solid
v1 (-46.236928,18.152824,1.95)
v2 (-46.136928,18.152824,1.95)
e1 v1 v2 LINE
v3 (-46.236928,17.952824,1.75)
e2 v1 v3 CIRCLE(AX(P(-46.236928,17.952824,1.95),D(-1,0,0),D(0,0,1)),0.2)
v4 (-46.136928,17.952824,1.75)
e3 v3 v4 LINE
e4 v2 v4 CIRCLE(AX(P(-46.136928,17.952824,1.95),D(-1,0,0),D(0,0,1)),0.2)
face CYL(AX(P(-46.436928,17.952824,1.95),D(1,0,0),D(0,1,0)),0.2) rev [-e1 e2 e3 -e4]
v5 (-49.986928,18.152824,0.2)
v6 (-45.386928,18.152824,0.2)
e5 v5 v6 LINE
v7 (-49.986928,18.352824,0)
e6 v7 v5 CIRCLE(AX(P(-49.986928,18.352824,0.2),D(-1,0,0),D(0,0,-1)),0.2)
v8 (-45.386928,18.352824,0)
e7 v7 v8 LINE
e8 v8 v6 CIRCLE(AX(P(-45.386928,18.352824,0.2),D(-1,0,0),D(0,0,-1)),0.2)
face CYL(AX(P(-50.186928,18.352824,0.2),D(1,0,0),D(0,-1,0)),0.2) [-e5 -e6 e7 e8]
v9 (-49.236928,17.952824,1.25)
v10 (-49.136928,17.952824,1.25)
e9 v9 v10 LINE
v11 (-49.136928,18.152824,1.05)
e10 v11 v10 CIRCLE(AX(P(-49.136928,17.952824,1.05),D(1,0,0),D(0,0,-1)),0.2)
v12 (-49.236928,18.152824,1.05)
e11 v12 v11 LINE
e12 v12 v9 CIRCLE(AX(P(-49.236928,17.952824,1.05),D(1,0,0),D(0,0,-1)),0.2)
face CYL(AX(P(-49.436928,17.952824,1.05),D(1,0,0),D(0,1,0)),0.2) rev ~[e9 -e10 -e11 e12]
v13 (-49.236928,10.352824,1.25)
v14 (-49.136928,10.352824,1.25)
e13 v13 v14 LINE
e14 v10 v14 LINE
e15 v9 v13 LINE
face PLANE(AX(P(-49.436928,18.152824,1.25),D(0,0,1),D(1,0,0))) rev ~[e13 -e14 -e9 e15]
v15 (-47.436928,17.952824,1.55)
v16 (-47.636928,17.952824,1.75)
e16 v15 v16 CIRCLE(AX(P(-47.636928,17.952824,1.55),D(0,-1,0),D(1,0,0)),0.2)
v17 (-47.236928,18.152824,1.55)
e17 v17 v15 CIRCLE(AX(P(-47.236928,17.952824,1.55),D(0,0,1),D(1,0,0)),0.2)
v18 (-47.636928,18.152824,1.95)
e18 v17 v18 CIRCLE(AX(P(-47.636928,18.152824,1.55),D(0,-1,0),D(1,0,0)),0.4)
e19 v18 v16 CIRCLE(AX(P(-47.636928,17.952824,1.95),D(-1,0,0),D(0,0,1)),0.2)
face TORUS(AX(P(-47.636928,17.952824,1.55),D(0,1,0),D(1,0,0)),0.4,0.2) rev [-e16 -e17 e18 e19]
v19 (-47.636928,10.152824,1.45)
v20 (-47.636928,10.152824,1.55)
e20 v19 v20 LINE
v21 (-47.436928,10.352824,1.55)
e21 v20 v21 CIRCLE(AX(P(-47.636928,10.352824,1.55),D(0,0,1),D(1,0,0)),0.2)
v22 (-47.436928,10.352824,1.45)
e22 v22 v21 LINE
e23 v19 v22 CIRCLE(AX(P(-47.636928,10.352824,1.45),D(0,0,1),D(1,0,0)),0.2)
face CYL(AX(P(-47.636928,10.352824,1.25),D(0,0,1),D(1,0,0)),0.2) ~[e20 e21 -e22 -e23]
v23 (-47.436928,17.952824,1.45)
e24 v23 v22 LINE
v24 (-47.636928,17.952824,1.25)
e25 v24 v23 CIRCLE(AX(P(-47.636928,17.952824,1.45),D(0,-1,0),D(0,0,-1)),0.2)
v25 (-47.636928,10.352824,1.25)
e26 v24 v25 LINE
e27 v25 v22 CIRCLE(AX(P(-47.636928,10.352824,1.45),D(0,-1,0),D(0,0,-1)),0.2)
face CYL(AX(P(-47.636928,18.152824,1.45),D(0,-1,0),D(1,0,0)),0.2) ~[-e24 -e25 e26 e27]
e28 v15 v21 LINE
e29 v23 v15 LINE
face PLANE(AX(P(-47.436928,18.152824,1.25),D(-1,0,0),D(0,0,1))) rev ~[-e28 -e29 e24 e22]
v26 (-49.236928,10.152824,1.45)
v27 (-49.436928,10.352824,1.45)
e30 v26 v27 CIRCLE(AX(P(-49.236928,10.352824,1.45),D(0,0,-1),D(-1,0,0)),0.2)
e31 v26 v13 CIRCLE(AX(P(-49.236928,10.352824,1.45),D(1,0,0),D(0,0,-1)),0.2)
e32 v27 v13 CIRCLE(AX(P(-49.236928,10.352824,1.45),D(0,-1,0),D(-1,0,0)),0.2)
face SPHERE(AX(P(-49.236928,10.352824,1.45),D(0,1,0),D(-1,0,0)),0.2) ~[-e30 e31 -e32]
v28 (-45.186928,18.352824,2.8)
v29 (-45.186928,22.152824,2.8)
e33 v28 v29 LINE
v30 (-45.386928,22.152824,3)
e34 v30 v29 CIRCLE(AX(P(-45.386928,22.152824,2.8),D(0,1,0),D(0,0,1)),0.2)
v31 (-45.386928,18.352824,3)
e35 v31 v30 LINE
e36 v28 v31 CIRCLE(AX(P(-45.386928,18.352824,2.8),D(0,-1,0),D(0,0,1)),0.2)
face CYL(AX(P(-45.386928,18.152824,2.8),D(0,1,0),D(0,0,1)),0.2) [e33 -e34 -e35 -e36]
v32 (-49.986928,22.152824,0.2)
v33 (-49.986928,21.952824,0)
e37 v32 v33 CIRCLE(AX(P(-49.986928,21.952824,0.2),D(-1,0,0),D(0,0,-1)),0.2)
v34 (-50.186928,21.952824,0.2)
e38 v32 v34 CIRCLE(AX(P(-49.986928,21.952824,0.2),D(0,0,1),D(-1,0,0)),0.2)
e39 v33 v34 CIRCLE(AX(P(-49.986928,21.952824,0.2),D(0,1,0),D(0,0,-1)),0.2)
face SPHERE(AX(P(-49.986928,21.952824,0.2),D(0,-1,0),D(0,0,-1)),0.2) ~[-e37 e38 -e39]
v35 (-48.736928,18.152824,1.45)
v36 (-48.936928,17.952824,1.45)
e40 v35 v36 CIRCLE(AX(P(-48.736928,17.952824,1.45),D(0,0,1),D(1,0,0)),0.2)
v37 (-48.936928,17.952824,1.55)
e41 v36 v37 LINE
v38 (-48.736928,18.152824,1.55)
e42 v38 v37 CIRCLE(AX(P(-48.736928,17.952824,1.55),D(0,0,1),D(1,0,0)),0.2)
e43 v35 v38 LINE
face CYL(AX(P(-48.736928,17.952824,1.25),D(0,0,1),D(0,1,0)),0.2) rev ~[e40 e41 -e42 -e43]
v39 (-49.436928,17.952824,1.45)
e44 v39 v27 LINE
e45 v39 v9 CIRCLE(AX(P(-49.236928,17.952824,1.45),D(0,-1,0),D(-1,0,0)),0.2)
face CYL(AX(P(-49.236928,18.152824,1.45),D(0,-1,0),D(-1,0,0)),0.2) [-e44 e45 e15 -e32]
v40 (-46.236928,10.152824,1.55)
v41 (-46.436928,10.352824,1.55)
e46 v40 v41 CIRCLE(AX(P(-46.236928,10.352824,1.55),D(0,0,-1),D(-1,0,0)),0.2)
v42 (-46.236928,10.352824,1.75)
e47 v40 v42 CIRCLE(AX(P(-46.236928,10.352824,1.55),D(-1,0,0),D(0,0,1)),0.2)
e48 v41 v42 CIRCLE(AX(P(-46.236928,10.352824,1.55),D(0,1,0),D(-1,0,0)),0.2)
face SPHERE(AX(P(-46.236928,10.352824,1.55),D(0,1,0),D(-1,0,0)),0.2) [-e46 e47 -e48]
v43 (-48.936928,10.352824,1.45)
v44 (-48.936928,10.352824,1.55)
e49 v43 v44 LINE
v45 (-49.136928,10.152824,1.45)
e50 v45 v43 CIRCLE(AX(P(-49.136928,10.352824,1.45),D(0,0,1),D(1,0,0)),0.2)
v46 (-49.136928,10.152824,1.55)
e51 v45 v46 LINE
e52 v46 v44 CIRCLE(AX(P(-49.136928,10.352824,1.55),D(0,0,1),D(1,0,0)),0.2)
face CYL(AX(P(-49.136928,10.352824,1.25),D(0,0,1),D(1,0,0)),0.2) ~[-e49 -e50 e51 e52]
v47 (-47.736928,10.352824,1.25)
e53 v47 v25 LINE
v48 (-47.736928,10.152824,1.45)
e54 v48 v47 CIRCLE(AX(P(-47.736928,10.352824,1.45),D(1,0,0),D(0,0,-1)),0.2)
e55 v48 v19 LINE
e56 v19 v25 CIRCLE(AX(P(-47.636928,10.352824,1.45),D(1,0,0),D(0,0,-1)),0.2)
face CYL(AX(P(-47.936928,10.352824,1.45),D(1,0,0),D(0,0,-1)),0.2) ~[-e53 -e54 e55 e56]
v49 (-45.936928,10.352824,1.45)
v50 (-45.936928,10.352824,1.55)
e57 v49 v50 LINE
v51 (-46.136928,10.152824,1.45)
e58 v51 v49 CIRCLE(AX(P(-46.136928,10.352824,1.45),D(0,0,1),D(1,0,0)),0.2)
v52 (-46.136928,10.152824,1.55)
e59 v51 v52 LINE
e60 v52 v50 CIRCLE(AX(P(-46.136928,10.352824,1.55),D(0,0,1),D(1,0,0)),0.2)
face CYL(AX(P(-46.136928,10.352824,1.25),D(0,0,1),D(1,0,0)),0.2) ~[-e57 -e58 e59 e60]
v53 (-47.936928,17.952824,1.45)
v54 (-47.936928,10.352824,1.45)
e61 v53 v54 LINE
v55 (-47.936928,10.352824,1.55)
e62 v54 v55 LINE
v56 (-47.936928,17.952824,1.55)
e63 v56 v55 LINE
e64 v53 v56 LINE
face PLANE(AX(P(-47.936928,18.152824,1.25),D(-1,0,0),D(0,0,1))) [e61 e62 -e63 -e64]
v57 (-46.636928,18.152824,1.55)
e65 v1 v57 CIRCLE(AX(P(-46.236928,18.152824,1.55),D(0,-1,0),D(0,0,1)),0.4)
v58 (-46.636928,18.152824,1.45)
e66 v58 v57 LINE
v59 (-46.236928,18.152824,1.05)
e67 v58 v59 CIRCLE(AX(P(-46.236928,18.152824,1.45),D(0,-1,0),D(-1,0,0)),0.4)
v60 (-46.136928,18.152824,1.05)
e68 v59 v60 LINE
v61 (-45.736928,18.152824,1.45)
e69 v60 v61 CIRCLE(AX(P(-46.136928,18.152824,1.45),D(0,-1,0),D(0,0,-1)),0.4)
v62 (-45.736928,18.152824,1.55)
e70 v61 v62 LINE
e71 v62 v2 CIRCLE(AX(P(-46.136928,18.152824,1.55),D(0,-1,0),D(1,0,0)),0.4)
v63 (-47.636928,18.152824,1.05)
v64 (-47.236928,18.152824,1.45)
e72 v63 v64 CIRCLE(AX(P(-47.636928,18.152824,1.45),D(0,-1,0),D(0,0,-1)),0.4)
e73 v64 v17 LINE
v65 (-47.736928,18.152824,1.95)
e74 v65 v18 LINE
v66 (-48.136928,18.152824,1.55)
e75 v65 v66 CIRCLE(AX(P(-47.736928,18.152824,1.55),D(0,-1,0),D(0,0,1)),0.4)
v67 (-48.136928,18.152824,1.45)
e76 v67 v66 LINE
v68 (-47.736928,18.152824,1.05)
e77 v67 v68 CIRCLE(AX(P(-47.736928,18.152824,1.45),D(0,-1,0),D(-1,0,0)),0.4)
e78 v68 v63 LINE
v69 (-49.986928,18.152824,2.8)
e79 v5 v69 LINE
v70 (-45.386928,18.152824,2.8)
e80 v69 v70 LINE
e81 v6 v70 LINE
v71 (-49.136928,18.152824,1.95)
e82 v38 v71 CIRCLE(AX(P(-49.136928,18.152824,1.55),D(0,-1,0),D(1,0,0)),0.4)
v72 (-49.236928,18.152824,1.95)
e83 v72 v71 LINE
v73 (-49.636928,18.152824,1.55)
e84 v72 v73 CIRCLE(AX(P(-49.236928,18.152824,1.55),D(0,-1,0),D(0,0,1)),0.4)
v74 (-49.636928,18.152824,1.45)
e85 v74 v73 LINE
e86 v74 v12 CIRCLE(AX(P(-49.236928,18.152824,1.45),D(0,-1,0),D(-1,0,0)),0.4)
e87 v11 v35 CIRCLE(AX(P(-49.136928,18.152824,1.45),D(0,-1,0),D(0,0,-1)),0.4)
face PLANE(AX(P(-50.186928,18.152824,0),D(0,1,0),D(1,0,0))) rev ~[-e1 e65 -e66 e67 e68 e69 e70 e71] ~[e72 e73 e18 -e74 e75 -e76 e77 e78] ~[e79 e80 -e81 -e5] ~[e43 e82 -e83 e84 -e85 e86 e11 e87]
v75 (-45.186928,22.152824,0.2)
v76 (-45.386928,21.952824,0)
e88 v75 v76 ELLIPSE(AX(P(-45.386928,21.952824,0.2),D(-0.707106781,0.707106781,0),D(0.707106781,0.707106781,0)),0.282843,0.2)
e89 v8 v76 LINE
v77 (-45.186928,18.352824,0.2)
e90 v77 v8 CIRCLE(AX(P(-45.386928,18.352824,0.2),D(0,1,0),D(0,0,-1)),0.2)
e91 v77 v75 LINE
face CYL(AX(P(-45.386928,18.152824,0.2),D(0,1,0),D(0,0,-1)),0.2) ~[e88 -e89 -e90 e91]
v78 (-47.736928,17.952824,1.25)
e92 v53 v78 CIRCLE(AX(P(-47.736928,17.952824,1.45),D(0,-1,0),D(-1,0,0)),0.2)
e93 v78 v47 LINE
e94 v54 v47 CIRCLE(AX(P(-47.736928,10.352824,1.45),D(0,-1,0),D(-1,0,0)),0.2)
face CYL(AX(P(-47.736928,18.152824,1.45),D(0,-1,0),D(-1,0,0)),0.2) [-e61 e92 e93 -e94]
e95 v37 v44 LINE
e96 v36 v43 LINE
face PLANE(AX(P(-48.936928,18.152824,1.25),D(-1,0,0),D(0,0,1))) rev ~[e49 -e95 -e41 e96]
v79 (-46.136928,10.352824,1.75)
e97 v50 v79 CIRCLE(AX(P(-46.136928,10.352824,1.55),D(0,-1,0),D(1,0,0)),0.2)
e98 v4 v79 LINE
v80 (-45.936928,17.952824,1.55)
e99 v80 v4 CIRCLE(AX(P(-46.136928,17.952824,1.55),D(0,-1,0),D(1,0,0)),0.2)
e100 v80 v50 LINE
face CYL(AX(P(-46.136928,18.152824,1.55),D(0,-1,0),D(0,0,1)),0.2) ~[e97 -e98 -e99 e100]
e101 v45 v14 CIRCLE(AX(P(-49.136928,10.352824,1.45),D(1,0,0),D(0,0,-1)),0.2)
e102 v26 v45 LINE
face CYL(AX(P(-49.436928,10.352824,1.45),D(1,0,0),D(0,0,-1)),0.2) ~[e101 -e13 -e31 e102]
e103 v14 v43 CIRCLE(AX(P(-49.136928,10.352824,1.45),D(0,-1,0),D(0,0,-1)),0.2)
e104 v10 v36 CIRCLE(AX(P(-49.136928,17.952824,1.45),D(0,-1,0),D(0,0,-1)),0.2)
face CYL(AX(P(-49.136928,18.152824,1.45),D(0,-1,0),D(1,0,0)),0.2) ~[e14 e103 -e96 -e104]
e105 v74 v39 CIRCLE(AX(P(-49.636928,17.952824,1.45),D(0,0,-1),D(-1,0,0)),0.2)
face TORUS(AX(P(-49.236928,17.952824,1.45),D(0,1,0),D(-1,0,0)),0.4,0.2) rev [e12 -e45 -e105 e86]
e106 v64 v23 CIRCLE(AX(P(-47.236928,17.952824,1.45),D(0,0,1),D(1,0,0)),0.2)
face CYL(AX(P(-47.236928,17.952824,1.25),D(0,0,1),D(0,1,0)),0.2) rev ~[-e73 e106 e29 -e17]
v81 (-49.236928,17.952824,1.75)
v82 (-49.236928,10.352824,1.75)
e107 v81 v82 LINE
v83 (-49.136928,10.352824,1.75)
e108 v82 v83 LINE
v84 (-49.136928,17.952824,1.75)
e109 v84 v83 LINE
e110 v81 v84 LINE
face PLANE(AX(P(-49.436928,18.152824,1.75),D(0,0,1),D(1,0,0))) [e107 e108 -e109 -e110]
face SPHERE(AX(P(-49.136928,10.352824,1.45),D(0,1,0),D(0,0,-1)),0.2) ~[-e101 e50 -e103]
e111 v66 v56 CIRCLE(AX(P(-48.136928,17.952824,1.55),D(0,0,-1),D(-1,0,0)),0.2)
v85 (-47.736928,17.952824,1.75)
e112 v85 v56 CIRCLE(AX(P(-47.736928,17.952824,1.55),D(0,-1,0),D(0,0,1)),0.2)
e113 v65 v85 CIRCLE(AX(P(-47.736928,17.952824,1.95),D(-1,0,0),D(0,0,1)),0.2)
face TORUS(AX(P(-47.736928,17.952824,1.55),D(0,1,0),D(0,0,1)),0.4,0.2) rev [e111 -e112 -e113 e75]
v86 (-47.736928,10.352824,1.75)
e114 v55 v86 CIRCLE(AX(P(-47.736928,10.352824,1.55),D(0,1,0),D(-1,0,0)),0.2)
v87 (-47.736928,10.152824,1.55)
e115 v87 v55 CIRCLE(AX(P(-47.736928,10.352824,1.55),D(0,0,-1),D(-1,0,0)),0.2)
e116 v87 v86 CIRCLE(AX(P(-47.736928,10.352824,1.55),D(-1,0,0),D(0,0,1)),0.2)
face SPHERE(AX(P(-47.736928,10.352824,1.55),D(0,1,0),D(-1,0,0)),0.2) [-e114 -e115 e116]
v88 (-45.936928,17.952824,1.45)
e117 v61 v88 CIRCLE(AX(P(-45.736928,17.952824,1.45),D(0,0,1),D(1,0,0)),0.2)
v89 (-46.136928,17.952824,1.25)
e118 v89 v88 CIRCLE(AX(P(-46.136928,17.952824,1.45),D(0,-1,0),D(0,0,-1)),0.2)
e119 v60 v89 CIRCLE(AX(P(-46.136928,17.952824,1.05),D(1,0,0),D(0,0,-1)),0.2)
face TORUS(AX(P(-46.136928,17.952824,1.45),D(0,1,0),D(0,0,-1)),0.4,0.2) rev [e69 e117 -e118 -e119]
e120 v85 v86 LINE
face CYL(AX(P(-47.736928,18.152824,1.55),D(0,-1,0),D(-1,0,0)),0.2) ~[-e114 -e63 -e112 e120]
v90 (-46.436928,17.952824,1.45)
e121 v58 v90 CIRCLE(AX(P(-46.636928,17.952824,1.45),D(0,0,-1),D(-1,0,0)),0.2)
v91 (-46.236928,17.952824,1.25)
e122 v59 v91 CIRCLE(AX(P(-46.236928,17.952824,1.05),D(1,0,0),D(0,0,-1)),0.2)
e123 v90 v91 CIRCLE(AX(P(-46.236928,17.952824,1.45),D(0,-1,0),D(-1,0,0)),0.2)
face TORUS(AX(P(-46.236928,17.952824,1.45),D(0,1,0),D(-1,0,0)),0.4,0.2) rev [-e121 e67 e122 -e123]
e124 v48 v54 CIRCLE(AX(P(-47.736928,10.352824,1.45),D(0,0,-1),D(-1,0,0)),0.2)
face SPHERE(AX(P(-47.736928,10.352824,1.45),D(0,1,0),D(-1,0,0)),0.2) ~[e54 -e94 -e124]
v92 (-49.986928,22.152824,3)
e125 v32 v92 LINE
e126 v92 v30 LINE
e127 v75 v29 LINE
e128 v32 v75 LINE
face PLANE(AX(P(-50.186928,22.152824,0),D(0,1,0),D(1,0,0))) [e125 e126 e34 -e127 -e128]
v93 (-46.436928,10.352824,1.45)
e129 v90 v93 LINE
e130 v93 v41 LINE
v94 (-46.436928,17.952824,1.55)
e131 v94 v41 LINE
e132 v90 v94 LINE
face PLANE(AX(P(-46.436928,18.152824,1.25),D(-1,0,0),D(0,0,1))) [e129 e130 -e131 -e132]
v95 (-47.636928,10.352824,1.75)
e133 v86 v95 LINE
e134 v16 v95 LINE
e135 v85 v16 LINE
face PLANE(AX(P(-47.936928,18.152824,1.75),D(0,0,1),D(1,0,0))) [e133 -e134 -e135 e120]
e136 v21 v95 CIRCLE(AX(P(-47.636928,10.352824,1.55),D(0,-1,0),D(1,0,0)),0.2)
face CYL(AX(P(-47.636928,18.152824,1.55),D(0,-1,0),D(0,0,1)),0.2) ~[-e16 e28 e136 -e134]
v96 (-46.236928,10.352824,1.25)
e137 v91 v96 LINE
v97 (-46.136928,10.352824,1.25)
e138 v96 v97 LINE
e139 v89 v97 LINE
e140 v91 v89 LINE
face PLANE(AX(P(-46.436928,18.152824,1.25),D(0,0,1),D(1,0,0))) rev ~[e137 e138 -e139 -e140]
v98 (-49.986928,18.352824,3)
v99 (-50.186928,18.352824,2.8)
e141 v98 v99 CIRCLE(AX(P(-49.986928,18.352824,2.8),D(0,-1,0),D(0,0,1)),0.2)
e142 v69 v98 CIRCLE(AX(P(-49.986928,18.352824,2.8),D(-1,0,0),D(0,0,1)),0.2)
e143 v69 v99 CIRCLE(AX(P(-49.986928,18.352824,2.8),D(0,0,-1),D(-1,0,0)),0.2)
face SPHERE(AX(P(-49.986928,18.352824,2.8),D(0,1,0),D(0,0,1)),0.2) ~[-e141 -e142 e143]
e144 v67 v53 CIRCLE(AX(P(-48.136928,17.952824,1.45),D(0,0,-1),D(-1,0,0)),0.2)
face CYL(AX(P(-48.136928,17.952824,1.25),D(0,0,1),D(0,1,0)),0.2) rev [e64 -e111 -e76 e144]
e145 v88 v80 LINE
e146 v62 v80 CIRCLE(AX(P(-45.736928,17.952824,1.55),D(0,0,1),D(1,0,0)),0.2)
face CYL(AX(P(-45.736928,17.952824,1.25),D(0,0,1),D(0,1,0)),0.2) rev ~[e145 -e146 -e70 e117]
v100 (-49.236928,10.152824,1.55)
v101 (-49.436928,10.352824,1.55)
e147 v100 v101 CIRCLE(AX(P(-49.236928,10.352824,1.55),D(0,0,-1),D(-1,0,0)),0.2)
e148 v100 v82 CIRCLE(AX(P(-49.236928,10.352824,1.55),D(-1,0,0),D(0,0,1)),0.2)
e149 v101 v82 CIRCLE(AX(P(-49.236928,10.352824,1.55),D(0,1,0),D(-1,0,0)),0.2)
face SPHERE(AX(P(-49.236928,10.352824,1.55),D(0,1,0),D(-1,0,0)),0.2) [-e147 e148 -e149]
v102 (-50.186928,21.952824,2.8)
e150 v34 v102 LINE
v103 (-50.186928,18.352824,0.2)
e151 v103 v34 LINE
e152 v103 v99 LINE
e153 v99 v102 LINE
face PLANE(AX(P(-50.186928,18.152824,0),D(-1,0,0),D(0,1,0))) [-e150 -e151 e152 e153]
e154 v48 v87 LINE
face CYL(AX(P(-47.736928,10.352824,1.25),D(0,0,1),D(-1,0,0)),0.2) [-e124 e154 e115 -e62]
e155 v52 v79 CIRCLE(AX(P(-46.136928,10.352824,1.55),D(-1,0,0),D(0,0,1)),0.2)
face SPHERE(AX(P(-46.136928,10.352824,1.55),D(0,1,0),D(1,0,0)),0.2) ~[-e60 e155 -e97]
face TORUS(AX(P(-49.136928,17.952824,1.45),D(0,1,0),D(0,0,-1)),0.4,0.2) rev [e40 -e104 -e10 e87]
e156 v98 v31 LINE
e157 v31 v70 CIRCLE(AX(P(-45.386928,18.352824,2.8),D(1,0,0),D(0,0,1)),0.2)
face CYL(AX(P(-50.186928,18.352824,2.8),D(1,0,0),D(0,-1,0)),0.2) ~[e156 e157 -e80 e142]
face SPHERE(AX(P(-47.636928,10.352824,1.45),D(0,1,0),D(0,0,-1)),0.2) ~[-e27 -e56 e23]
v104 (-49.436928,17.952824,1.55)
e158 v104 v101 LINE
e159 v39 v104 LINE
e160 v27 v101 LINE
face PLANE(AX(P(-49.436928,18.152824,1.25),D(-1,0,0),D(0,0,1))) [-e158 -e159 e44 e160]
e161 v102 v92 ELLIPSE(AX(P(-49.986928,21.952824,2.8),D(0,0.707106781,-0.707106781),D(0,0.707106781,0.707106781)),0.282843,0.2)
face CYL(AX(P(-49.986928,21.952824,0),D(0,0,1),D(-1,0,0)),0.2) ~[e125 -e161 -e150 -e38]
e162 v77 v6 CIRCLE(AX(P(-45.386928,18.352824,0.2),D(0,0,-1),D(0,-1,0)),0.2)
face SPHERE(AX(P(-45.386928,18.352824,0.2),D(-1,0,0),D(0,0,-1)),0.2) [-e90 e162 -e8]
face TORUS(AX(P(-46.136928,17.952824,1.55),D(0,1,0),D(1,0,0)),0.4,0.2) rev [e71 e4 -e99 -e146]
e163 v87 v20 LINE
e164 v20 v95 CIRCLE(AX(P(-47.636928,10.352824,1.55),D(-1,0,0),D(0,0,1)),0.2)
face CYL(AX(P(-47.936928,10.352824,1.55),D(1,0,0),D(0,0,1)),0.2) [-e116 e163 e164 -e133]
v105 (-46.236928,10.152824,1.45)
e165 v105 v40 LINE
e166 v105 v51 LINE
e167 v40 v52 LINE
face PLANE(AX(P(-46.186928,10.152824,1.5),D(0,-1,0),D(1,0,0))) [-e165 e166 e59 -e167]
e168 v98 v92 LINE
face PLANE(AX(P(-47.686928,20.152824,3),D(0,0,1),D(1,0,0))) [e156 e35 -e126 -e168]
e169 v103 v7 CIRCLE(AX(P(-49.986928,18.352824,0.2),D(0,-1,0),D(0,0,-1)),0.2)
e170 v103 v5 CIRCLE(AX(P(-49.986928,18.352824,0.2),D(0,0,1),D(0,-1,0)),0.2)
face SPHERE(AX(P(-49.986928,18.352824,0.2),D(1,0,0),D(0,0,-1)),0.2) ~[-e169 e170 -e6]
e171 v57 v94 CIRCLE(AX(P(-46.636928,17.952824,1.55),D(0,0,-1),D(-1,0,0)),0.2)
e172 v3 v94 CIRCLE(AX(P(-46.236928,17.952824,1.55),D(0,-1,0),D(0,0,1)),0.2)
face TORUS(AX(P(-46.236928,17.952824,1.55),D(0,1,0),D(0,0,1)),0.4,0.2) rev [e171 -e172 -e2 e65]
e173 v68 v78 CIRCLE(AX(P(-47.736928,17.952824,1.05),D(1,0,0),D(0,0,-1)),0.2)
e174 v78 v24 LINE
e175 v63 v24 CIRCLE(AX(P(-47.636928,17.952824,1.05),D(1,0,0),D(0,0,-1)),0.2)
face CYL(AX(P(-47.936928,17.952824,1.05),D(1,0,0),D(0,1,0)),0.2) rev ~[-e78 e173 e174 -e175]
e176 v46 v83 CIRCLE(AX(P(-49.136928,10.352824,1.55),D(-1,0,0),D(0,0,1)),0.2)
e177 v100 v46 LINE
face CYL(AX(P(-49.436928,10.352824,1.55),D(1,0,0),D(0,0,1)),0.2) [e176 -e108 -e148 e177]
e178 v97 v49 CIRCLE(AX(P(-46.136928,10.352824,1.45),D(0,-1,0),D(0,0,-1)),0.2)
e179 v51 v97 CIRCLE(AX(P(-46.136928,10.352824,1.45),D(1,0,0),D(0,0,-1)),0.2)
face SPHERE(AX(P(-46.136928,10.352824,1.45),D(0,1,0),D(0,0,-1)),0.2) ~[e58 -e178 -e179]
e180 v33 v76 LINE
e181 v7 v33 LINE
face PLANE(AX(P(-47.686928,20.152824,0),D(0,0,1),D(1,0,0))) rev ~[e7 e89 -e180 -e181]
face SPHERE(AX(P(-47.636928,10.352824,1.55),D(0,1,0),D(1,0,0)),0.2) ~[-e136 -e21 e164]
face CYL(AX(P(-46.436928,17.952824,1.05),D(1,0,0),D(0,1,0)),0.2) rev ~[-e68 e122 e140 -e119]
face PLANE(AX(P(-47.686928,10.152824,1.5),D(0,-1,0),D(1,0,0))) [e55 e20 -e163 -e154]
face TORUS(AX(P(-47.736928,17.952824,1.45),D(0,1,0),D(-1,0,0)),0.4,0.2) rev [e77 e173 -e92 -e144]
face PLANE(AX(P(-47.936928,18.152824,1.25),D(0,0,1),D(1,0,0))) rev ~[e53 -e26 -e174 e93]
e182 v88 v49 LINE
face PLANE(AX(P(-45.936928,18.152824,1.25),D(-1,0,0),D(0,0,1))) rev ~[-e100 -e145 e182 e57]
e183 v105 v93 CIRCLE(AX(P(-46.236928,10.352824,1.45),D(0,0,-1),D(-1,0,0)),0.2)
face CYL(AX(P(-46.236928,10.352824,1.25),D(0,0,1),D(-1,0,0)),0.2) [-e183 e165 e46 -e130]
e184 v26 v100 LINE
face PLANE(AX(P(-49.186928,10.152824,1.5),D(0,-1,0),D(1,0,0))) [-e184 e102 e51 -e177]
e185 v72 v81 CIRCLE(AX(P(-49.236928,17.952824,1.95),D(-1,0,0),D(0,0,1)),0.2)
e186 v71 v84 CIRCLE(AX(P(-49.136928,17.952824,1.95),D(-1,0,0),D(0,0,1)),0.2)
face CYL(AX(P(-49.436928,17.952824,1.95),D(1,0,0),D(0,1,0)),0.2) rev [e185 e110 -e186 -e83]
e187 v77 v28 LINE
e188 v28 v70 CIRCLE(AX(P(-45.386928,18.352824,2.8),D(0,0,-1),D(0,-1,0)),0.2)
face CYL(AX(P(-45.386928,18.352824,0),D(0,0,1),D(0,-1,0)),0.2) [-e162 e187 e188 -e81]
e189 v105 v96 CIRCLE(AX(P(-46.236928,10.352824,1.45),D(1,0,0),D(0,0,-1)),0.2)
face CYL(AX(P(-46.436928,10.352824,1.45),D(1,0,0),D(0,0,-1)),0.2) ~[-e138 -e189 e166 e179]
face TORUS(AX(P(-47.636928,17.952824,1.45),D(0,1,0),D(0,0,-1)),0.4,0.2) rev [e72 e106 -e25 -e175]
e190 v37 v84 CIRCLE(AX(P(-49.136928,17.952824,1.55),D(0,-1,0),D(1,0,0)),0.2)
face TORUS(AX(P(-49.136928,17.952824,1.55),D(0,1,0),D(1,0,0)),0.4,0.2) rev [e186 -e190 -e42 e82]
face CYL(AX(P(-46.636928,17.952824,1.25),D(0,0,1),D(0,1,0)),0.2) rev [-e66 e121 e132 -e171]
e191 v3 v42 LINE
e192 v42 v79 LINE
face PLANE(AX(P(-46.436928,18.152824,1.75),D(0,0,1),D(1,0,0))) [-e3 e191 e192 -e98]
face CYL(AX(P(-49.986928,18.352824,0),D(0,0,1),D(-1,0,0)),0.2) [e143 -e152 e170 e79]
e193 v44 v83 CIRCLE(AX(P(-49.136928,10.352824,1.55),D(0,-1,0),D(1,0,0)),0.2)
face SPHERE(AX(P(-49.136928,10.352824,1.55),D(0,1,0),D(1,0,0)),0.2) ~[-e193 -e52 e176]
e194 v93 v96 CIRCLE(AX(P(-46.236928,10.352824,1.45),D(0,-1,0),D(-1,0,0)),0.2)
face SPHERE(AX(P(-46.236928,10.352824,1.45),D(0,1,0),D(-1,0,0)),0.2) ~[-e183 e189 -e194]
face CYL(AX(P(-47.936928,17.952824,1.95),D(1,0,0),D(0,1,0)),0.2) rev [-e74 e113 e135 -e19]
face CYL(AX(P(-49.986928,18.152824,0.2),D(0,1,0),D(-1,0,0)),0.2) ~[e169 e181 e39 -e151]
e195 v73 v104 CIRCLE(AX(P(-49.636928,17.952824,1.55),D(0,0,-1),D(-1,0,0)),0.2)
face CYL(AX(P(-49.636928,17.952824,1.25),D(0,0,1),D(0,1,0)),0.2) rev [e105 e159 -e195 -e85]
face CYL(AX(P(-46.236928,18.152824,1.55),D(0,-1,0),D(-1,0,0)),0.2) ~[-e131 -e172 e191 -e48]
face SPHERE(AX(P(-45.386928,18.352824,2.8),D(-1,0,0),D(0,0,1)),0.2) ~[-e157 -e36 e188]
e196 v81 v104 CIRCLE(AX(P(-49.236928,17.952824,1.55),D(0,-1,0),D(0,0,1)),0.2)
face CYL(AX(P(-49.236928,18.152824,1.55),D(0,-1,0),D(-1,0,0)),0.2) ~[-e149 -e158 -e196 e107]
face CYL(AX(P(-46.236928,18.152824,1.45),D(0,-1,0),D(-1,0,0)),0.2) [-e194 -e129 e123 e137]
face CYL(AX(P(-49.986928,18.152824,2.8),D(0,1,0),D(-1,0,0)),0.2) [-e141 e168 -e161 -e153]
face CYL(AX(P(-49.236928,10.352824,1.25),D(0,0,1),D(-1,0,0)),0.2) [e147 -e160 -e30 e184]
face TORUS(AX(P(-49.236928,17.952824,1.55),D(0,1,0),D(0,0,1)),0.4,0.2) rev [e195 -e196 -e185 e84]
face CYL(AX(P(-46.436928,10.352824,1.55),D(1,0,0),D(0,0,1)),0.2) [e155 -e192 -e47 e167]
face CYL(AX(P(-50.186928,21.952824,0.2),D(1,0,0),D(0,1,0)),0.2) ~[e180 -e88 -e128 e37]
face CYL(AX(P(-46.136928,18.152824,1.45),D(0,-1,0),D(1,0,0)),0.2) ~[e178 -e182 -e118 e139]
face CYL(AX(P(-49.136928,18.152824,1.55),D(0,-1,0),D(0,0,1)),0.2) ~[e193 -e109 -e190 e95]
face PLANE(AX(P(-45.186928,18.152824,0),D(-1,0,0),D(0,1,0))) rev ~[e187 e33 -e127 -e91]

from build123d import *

# Parameters (mm, degrees)
SKETCH1_W           = 5
SKETCH1_H           = 4
BOSS_EXTRUDE1_DEPTH = 3
SKETCH2_W           = 0.5
SKETCH2_H           = 0.5
BOSS_EXTRUDE2_DEPTH = 8
FILLET2_R           = 0.2


with BuildPart() as part:
    # Sketch1 → Boss-Extrude1 (new body)
    with BuildSketch(Plane.XY):
        with Locations((-47.686928434, 20.152823879)):
            Rectangle(SKETCH1_W, SKETCH1_H)
    extrude(amount=BOSS_EXTRUDE1_DEPTH)

    # Sketch2 → Boss-Extrude2 (add)
    with BuildSketch(Plane.XZ.offset(-18.152823879)):
        with Locations((-49.186928434, 1.5)):
            Rectangle(SKETCH2_W, SKETCH2_H)
        with Locations((-47.686928434, 1.5)):
            Rectangle(SKETCH2_W, SKETCH2_H)
        with Locations((-46.186928434, 1.5)):
            Rectangle(SKETCH2_W, SKETCH2_H)
    extrude(amount=BOSS_EXTRUDE2_DEPTH)

    # Fillet2
    fillet2_edges = [part.edges().sort_by_distance(p)[0] for p in [
        (-50.186928434, 20.152823879, 3),
        (-47.686928434, 18.152823879, 3),
        (-49.436928434, 18.152823879, 1.5),
        (-49.436928434, 14.152823879, 1.75),
        (-49.186928434, 18.152823879, 1.25),
        (-49.436928434, 14.152823879, 1.25),
        (-48.936928434, 18.152823879, 1.5),
        (-48.936928434, 14.152823879, 1.25),
        (-49.186928434, 18.152823879, 1.75),
        (-48.936928434, 14.152823879, 1.75),
        (-49.436928434, 10.152823879, 1.5),
        (-49.186928434, 10.152823879, 1.25),
        (-48.936928434, 10.152823879, 1.5),
        (-49.186928434, 10.152823879, 1.75),
        (-47.936928434, 18.152823879, 1.5),
        (-47.936928434, 14.152823879, 1.75),
        (-47.686928434, 18.152823879, 1.25),
        (-47.936928434, 14.152823879, 1.25),
        (-47.436928434, 18.152823879, 1.5),
        (-47.436928434, 14.152823879, 1.25),
        (-47.686928434, 18.152823879, 1.75),
        (-47.436928434, 14.152823879, 1.75),
        (-47.936928434, 10.152823879, 1.5),
        (-47.686928434, 10.152823879, 1.25),
        (-47.436928434, 10.152823879, 1.5),
        (-47.686928434, 10.152823879, 1.75),
        (-46.436928434, 18.152823879, 1.5),
        (-46.436928434, 14.152823879, 1.75),
        (-46.186928434, 18.152823879, 1.25),
        (-46.436928434, 14.152823879, 1.25),
        (-45.936928434, 18.152823879, 1.5),
        (-45.936928434, 14.152823879, 1.25),
        (-46.186928434, 18.152823879, 1.75),
        (-45.936928434, 14.152823879, 1.75),
        (-46.436928434, 10.152823879, 1.5),
        (-46.186928434, 10.152823879, 1.25),
        (-45.936928434, 10.152823879, 1.5),
        (-46.186928434, 10.152823879, 1.75),
        (-45.186928434, 20.152823879, 3),
        (-47.686928434, 18.152823879, 0),
        (-50.186928434, 20.152823879, 0),
        (-47.686928434, 22.152823879, 0),
        (-45.186928434, 20.152823879, 0),
        (-45.186928434, 18.152823879, 1.5),
        (-50.186928434, 18.152823879, 1.5),
        (-50.186928434, 22.152823879, 1.5),
    ]]
    fillet(fillet2_edges, radius=FILLET2_R)


solid = part.part
